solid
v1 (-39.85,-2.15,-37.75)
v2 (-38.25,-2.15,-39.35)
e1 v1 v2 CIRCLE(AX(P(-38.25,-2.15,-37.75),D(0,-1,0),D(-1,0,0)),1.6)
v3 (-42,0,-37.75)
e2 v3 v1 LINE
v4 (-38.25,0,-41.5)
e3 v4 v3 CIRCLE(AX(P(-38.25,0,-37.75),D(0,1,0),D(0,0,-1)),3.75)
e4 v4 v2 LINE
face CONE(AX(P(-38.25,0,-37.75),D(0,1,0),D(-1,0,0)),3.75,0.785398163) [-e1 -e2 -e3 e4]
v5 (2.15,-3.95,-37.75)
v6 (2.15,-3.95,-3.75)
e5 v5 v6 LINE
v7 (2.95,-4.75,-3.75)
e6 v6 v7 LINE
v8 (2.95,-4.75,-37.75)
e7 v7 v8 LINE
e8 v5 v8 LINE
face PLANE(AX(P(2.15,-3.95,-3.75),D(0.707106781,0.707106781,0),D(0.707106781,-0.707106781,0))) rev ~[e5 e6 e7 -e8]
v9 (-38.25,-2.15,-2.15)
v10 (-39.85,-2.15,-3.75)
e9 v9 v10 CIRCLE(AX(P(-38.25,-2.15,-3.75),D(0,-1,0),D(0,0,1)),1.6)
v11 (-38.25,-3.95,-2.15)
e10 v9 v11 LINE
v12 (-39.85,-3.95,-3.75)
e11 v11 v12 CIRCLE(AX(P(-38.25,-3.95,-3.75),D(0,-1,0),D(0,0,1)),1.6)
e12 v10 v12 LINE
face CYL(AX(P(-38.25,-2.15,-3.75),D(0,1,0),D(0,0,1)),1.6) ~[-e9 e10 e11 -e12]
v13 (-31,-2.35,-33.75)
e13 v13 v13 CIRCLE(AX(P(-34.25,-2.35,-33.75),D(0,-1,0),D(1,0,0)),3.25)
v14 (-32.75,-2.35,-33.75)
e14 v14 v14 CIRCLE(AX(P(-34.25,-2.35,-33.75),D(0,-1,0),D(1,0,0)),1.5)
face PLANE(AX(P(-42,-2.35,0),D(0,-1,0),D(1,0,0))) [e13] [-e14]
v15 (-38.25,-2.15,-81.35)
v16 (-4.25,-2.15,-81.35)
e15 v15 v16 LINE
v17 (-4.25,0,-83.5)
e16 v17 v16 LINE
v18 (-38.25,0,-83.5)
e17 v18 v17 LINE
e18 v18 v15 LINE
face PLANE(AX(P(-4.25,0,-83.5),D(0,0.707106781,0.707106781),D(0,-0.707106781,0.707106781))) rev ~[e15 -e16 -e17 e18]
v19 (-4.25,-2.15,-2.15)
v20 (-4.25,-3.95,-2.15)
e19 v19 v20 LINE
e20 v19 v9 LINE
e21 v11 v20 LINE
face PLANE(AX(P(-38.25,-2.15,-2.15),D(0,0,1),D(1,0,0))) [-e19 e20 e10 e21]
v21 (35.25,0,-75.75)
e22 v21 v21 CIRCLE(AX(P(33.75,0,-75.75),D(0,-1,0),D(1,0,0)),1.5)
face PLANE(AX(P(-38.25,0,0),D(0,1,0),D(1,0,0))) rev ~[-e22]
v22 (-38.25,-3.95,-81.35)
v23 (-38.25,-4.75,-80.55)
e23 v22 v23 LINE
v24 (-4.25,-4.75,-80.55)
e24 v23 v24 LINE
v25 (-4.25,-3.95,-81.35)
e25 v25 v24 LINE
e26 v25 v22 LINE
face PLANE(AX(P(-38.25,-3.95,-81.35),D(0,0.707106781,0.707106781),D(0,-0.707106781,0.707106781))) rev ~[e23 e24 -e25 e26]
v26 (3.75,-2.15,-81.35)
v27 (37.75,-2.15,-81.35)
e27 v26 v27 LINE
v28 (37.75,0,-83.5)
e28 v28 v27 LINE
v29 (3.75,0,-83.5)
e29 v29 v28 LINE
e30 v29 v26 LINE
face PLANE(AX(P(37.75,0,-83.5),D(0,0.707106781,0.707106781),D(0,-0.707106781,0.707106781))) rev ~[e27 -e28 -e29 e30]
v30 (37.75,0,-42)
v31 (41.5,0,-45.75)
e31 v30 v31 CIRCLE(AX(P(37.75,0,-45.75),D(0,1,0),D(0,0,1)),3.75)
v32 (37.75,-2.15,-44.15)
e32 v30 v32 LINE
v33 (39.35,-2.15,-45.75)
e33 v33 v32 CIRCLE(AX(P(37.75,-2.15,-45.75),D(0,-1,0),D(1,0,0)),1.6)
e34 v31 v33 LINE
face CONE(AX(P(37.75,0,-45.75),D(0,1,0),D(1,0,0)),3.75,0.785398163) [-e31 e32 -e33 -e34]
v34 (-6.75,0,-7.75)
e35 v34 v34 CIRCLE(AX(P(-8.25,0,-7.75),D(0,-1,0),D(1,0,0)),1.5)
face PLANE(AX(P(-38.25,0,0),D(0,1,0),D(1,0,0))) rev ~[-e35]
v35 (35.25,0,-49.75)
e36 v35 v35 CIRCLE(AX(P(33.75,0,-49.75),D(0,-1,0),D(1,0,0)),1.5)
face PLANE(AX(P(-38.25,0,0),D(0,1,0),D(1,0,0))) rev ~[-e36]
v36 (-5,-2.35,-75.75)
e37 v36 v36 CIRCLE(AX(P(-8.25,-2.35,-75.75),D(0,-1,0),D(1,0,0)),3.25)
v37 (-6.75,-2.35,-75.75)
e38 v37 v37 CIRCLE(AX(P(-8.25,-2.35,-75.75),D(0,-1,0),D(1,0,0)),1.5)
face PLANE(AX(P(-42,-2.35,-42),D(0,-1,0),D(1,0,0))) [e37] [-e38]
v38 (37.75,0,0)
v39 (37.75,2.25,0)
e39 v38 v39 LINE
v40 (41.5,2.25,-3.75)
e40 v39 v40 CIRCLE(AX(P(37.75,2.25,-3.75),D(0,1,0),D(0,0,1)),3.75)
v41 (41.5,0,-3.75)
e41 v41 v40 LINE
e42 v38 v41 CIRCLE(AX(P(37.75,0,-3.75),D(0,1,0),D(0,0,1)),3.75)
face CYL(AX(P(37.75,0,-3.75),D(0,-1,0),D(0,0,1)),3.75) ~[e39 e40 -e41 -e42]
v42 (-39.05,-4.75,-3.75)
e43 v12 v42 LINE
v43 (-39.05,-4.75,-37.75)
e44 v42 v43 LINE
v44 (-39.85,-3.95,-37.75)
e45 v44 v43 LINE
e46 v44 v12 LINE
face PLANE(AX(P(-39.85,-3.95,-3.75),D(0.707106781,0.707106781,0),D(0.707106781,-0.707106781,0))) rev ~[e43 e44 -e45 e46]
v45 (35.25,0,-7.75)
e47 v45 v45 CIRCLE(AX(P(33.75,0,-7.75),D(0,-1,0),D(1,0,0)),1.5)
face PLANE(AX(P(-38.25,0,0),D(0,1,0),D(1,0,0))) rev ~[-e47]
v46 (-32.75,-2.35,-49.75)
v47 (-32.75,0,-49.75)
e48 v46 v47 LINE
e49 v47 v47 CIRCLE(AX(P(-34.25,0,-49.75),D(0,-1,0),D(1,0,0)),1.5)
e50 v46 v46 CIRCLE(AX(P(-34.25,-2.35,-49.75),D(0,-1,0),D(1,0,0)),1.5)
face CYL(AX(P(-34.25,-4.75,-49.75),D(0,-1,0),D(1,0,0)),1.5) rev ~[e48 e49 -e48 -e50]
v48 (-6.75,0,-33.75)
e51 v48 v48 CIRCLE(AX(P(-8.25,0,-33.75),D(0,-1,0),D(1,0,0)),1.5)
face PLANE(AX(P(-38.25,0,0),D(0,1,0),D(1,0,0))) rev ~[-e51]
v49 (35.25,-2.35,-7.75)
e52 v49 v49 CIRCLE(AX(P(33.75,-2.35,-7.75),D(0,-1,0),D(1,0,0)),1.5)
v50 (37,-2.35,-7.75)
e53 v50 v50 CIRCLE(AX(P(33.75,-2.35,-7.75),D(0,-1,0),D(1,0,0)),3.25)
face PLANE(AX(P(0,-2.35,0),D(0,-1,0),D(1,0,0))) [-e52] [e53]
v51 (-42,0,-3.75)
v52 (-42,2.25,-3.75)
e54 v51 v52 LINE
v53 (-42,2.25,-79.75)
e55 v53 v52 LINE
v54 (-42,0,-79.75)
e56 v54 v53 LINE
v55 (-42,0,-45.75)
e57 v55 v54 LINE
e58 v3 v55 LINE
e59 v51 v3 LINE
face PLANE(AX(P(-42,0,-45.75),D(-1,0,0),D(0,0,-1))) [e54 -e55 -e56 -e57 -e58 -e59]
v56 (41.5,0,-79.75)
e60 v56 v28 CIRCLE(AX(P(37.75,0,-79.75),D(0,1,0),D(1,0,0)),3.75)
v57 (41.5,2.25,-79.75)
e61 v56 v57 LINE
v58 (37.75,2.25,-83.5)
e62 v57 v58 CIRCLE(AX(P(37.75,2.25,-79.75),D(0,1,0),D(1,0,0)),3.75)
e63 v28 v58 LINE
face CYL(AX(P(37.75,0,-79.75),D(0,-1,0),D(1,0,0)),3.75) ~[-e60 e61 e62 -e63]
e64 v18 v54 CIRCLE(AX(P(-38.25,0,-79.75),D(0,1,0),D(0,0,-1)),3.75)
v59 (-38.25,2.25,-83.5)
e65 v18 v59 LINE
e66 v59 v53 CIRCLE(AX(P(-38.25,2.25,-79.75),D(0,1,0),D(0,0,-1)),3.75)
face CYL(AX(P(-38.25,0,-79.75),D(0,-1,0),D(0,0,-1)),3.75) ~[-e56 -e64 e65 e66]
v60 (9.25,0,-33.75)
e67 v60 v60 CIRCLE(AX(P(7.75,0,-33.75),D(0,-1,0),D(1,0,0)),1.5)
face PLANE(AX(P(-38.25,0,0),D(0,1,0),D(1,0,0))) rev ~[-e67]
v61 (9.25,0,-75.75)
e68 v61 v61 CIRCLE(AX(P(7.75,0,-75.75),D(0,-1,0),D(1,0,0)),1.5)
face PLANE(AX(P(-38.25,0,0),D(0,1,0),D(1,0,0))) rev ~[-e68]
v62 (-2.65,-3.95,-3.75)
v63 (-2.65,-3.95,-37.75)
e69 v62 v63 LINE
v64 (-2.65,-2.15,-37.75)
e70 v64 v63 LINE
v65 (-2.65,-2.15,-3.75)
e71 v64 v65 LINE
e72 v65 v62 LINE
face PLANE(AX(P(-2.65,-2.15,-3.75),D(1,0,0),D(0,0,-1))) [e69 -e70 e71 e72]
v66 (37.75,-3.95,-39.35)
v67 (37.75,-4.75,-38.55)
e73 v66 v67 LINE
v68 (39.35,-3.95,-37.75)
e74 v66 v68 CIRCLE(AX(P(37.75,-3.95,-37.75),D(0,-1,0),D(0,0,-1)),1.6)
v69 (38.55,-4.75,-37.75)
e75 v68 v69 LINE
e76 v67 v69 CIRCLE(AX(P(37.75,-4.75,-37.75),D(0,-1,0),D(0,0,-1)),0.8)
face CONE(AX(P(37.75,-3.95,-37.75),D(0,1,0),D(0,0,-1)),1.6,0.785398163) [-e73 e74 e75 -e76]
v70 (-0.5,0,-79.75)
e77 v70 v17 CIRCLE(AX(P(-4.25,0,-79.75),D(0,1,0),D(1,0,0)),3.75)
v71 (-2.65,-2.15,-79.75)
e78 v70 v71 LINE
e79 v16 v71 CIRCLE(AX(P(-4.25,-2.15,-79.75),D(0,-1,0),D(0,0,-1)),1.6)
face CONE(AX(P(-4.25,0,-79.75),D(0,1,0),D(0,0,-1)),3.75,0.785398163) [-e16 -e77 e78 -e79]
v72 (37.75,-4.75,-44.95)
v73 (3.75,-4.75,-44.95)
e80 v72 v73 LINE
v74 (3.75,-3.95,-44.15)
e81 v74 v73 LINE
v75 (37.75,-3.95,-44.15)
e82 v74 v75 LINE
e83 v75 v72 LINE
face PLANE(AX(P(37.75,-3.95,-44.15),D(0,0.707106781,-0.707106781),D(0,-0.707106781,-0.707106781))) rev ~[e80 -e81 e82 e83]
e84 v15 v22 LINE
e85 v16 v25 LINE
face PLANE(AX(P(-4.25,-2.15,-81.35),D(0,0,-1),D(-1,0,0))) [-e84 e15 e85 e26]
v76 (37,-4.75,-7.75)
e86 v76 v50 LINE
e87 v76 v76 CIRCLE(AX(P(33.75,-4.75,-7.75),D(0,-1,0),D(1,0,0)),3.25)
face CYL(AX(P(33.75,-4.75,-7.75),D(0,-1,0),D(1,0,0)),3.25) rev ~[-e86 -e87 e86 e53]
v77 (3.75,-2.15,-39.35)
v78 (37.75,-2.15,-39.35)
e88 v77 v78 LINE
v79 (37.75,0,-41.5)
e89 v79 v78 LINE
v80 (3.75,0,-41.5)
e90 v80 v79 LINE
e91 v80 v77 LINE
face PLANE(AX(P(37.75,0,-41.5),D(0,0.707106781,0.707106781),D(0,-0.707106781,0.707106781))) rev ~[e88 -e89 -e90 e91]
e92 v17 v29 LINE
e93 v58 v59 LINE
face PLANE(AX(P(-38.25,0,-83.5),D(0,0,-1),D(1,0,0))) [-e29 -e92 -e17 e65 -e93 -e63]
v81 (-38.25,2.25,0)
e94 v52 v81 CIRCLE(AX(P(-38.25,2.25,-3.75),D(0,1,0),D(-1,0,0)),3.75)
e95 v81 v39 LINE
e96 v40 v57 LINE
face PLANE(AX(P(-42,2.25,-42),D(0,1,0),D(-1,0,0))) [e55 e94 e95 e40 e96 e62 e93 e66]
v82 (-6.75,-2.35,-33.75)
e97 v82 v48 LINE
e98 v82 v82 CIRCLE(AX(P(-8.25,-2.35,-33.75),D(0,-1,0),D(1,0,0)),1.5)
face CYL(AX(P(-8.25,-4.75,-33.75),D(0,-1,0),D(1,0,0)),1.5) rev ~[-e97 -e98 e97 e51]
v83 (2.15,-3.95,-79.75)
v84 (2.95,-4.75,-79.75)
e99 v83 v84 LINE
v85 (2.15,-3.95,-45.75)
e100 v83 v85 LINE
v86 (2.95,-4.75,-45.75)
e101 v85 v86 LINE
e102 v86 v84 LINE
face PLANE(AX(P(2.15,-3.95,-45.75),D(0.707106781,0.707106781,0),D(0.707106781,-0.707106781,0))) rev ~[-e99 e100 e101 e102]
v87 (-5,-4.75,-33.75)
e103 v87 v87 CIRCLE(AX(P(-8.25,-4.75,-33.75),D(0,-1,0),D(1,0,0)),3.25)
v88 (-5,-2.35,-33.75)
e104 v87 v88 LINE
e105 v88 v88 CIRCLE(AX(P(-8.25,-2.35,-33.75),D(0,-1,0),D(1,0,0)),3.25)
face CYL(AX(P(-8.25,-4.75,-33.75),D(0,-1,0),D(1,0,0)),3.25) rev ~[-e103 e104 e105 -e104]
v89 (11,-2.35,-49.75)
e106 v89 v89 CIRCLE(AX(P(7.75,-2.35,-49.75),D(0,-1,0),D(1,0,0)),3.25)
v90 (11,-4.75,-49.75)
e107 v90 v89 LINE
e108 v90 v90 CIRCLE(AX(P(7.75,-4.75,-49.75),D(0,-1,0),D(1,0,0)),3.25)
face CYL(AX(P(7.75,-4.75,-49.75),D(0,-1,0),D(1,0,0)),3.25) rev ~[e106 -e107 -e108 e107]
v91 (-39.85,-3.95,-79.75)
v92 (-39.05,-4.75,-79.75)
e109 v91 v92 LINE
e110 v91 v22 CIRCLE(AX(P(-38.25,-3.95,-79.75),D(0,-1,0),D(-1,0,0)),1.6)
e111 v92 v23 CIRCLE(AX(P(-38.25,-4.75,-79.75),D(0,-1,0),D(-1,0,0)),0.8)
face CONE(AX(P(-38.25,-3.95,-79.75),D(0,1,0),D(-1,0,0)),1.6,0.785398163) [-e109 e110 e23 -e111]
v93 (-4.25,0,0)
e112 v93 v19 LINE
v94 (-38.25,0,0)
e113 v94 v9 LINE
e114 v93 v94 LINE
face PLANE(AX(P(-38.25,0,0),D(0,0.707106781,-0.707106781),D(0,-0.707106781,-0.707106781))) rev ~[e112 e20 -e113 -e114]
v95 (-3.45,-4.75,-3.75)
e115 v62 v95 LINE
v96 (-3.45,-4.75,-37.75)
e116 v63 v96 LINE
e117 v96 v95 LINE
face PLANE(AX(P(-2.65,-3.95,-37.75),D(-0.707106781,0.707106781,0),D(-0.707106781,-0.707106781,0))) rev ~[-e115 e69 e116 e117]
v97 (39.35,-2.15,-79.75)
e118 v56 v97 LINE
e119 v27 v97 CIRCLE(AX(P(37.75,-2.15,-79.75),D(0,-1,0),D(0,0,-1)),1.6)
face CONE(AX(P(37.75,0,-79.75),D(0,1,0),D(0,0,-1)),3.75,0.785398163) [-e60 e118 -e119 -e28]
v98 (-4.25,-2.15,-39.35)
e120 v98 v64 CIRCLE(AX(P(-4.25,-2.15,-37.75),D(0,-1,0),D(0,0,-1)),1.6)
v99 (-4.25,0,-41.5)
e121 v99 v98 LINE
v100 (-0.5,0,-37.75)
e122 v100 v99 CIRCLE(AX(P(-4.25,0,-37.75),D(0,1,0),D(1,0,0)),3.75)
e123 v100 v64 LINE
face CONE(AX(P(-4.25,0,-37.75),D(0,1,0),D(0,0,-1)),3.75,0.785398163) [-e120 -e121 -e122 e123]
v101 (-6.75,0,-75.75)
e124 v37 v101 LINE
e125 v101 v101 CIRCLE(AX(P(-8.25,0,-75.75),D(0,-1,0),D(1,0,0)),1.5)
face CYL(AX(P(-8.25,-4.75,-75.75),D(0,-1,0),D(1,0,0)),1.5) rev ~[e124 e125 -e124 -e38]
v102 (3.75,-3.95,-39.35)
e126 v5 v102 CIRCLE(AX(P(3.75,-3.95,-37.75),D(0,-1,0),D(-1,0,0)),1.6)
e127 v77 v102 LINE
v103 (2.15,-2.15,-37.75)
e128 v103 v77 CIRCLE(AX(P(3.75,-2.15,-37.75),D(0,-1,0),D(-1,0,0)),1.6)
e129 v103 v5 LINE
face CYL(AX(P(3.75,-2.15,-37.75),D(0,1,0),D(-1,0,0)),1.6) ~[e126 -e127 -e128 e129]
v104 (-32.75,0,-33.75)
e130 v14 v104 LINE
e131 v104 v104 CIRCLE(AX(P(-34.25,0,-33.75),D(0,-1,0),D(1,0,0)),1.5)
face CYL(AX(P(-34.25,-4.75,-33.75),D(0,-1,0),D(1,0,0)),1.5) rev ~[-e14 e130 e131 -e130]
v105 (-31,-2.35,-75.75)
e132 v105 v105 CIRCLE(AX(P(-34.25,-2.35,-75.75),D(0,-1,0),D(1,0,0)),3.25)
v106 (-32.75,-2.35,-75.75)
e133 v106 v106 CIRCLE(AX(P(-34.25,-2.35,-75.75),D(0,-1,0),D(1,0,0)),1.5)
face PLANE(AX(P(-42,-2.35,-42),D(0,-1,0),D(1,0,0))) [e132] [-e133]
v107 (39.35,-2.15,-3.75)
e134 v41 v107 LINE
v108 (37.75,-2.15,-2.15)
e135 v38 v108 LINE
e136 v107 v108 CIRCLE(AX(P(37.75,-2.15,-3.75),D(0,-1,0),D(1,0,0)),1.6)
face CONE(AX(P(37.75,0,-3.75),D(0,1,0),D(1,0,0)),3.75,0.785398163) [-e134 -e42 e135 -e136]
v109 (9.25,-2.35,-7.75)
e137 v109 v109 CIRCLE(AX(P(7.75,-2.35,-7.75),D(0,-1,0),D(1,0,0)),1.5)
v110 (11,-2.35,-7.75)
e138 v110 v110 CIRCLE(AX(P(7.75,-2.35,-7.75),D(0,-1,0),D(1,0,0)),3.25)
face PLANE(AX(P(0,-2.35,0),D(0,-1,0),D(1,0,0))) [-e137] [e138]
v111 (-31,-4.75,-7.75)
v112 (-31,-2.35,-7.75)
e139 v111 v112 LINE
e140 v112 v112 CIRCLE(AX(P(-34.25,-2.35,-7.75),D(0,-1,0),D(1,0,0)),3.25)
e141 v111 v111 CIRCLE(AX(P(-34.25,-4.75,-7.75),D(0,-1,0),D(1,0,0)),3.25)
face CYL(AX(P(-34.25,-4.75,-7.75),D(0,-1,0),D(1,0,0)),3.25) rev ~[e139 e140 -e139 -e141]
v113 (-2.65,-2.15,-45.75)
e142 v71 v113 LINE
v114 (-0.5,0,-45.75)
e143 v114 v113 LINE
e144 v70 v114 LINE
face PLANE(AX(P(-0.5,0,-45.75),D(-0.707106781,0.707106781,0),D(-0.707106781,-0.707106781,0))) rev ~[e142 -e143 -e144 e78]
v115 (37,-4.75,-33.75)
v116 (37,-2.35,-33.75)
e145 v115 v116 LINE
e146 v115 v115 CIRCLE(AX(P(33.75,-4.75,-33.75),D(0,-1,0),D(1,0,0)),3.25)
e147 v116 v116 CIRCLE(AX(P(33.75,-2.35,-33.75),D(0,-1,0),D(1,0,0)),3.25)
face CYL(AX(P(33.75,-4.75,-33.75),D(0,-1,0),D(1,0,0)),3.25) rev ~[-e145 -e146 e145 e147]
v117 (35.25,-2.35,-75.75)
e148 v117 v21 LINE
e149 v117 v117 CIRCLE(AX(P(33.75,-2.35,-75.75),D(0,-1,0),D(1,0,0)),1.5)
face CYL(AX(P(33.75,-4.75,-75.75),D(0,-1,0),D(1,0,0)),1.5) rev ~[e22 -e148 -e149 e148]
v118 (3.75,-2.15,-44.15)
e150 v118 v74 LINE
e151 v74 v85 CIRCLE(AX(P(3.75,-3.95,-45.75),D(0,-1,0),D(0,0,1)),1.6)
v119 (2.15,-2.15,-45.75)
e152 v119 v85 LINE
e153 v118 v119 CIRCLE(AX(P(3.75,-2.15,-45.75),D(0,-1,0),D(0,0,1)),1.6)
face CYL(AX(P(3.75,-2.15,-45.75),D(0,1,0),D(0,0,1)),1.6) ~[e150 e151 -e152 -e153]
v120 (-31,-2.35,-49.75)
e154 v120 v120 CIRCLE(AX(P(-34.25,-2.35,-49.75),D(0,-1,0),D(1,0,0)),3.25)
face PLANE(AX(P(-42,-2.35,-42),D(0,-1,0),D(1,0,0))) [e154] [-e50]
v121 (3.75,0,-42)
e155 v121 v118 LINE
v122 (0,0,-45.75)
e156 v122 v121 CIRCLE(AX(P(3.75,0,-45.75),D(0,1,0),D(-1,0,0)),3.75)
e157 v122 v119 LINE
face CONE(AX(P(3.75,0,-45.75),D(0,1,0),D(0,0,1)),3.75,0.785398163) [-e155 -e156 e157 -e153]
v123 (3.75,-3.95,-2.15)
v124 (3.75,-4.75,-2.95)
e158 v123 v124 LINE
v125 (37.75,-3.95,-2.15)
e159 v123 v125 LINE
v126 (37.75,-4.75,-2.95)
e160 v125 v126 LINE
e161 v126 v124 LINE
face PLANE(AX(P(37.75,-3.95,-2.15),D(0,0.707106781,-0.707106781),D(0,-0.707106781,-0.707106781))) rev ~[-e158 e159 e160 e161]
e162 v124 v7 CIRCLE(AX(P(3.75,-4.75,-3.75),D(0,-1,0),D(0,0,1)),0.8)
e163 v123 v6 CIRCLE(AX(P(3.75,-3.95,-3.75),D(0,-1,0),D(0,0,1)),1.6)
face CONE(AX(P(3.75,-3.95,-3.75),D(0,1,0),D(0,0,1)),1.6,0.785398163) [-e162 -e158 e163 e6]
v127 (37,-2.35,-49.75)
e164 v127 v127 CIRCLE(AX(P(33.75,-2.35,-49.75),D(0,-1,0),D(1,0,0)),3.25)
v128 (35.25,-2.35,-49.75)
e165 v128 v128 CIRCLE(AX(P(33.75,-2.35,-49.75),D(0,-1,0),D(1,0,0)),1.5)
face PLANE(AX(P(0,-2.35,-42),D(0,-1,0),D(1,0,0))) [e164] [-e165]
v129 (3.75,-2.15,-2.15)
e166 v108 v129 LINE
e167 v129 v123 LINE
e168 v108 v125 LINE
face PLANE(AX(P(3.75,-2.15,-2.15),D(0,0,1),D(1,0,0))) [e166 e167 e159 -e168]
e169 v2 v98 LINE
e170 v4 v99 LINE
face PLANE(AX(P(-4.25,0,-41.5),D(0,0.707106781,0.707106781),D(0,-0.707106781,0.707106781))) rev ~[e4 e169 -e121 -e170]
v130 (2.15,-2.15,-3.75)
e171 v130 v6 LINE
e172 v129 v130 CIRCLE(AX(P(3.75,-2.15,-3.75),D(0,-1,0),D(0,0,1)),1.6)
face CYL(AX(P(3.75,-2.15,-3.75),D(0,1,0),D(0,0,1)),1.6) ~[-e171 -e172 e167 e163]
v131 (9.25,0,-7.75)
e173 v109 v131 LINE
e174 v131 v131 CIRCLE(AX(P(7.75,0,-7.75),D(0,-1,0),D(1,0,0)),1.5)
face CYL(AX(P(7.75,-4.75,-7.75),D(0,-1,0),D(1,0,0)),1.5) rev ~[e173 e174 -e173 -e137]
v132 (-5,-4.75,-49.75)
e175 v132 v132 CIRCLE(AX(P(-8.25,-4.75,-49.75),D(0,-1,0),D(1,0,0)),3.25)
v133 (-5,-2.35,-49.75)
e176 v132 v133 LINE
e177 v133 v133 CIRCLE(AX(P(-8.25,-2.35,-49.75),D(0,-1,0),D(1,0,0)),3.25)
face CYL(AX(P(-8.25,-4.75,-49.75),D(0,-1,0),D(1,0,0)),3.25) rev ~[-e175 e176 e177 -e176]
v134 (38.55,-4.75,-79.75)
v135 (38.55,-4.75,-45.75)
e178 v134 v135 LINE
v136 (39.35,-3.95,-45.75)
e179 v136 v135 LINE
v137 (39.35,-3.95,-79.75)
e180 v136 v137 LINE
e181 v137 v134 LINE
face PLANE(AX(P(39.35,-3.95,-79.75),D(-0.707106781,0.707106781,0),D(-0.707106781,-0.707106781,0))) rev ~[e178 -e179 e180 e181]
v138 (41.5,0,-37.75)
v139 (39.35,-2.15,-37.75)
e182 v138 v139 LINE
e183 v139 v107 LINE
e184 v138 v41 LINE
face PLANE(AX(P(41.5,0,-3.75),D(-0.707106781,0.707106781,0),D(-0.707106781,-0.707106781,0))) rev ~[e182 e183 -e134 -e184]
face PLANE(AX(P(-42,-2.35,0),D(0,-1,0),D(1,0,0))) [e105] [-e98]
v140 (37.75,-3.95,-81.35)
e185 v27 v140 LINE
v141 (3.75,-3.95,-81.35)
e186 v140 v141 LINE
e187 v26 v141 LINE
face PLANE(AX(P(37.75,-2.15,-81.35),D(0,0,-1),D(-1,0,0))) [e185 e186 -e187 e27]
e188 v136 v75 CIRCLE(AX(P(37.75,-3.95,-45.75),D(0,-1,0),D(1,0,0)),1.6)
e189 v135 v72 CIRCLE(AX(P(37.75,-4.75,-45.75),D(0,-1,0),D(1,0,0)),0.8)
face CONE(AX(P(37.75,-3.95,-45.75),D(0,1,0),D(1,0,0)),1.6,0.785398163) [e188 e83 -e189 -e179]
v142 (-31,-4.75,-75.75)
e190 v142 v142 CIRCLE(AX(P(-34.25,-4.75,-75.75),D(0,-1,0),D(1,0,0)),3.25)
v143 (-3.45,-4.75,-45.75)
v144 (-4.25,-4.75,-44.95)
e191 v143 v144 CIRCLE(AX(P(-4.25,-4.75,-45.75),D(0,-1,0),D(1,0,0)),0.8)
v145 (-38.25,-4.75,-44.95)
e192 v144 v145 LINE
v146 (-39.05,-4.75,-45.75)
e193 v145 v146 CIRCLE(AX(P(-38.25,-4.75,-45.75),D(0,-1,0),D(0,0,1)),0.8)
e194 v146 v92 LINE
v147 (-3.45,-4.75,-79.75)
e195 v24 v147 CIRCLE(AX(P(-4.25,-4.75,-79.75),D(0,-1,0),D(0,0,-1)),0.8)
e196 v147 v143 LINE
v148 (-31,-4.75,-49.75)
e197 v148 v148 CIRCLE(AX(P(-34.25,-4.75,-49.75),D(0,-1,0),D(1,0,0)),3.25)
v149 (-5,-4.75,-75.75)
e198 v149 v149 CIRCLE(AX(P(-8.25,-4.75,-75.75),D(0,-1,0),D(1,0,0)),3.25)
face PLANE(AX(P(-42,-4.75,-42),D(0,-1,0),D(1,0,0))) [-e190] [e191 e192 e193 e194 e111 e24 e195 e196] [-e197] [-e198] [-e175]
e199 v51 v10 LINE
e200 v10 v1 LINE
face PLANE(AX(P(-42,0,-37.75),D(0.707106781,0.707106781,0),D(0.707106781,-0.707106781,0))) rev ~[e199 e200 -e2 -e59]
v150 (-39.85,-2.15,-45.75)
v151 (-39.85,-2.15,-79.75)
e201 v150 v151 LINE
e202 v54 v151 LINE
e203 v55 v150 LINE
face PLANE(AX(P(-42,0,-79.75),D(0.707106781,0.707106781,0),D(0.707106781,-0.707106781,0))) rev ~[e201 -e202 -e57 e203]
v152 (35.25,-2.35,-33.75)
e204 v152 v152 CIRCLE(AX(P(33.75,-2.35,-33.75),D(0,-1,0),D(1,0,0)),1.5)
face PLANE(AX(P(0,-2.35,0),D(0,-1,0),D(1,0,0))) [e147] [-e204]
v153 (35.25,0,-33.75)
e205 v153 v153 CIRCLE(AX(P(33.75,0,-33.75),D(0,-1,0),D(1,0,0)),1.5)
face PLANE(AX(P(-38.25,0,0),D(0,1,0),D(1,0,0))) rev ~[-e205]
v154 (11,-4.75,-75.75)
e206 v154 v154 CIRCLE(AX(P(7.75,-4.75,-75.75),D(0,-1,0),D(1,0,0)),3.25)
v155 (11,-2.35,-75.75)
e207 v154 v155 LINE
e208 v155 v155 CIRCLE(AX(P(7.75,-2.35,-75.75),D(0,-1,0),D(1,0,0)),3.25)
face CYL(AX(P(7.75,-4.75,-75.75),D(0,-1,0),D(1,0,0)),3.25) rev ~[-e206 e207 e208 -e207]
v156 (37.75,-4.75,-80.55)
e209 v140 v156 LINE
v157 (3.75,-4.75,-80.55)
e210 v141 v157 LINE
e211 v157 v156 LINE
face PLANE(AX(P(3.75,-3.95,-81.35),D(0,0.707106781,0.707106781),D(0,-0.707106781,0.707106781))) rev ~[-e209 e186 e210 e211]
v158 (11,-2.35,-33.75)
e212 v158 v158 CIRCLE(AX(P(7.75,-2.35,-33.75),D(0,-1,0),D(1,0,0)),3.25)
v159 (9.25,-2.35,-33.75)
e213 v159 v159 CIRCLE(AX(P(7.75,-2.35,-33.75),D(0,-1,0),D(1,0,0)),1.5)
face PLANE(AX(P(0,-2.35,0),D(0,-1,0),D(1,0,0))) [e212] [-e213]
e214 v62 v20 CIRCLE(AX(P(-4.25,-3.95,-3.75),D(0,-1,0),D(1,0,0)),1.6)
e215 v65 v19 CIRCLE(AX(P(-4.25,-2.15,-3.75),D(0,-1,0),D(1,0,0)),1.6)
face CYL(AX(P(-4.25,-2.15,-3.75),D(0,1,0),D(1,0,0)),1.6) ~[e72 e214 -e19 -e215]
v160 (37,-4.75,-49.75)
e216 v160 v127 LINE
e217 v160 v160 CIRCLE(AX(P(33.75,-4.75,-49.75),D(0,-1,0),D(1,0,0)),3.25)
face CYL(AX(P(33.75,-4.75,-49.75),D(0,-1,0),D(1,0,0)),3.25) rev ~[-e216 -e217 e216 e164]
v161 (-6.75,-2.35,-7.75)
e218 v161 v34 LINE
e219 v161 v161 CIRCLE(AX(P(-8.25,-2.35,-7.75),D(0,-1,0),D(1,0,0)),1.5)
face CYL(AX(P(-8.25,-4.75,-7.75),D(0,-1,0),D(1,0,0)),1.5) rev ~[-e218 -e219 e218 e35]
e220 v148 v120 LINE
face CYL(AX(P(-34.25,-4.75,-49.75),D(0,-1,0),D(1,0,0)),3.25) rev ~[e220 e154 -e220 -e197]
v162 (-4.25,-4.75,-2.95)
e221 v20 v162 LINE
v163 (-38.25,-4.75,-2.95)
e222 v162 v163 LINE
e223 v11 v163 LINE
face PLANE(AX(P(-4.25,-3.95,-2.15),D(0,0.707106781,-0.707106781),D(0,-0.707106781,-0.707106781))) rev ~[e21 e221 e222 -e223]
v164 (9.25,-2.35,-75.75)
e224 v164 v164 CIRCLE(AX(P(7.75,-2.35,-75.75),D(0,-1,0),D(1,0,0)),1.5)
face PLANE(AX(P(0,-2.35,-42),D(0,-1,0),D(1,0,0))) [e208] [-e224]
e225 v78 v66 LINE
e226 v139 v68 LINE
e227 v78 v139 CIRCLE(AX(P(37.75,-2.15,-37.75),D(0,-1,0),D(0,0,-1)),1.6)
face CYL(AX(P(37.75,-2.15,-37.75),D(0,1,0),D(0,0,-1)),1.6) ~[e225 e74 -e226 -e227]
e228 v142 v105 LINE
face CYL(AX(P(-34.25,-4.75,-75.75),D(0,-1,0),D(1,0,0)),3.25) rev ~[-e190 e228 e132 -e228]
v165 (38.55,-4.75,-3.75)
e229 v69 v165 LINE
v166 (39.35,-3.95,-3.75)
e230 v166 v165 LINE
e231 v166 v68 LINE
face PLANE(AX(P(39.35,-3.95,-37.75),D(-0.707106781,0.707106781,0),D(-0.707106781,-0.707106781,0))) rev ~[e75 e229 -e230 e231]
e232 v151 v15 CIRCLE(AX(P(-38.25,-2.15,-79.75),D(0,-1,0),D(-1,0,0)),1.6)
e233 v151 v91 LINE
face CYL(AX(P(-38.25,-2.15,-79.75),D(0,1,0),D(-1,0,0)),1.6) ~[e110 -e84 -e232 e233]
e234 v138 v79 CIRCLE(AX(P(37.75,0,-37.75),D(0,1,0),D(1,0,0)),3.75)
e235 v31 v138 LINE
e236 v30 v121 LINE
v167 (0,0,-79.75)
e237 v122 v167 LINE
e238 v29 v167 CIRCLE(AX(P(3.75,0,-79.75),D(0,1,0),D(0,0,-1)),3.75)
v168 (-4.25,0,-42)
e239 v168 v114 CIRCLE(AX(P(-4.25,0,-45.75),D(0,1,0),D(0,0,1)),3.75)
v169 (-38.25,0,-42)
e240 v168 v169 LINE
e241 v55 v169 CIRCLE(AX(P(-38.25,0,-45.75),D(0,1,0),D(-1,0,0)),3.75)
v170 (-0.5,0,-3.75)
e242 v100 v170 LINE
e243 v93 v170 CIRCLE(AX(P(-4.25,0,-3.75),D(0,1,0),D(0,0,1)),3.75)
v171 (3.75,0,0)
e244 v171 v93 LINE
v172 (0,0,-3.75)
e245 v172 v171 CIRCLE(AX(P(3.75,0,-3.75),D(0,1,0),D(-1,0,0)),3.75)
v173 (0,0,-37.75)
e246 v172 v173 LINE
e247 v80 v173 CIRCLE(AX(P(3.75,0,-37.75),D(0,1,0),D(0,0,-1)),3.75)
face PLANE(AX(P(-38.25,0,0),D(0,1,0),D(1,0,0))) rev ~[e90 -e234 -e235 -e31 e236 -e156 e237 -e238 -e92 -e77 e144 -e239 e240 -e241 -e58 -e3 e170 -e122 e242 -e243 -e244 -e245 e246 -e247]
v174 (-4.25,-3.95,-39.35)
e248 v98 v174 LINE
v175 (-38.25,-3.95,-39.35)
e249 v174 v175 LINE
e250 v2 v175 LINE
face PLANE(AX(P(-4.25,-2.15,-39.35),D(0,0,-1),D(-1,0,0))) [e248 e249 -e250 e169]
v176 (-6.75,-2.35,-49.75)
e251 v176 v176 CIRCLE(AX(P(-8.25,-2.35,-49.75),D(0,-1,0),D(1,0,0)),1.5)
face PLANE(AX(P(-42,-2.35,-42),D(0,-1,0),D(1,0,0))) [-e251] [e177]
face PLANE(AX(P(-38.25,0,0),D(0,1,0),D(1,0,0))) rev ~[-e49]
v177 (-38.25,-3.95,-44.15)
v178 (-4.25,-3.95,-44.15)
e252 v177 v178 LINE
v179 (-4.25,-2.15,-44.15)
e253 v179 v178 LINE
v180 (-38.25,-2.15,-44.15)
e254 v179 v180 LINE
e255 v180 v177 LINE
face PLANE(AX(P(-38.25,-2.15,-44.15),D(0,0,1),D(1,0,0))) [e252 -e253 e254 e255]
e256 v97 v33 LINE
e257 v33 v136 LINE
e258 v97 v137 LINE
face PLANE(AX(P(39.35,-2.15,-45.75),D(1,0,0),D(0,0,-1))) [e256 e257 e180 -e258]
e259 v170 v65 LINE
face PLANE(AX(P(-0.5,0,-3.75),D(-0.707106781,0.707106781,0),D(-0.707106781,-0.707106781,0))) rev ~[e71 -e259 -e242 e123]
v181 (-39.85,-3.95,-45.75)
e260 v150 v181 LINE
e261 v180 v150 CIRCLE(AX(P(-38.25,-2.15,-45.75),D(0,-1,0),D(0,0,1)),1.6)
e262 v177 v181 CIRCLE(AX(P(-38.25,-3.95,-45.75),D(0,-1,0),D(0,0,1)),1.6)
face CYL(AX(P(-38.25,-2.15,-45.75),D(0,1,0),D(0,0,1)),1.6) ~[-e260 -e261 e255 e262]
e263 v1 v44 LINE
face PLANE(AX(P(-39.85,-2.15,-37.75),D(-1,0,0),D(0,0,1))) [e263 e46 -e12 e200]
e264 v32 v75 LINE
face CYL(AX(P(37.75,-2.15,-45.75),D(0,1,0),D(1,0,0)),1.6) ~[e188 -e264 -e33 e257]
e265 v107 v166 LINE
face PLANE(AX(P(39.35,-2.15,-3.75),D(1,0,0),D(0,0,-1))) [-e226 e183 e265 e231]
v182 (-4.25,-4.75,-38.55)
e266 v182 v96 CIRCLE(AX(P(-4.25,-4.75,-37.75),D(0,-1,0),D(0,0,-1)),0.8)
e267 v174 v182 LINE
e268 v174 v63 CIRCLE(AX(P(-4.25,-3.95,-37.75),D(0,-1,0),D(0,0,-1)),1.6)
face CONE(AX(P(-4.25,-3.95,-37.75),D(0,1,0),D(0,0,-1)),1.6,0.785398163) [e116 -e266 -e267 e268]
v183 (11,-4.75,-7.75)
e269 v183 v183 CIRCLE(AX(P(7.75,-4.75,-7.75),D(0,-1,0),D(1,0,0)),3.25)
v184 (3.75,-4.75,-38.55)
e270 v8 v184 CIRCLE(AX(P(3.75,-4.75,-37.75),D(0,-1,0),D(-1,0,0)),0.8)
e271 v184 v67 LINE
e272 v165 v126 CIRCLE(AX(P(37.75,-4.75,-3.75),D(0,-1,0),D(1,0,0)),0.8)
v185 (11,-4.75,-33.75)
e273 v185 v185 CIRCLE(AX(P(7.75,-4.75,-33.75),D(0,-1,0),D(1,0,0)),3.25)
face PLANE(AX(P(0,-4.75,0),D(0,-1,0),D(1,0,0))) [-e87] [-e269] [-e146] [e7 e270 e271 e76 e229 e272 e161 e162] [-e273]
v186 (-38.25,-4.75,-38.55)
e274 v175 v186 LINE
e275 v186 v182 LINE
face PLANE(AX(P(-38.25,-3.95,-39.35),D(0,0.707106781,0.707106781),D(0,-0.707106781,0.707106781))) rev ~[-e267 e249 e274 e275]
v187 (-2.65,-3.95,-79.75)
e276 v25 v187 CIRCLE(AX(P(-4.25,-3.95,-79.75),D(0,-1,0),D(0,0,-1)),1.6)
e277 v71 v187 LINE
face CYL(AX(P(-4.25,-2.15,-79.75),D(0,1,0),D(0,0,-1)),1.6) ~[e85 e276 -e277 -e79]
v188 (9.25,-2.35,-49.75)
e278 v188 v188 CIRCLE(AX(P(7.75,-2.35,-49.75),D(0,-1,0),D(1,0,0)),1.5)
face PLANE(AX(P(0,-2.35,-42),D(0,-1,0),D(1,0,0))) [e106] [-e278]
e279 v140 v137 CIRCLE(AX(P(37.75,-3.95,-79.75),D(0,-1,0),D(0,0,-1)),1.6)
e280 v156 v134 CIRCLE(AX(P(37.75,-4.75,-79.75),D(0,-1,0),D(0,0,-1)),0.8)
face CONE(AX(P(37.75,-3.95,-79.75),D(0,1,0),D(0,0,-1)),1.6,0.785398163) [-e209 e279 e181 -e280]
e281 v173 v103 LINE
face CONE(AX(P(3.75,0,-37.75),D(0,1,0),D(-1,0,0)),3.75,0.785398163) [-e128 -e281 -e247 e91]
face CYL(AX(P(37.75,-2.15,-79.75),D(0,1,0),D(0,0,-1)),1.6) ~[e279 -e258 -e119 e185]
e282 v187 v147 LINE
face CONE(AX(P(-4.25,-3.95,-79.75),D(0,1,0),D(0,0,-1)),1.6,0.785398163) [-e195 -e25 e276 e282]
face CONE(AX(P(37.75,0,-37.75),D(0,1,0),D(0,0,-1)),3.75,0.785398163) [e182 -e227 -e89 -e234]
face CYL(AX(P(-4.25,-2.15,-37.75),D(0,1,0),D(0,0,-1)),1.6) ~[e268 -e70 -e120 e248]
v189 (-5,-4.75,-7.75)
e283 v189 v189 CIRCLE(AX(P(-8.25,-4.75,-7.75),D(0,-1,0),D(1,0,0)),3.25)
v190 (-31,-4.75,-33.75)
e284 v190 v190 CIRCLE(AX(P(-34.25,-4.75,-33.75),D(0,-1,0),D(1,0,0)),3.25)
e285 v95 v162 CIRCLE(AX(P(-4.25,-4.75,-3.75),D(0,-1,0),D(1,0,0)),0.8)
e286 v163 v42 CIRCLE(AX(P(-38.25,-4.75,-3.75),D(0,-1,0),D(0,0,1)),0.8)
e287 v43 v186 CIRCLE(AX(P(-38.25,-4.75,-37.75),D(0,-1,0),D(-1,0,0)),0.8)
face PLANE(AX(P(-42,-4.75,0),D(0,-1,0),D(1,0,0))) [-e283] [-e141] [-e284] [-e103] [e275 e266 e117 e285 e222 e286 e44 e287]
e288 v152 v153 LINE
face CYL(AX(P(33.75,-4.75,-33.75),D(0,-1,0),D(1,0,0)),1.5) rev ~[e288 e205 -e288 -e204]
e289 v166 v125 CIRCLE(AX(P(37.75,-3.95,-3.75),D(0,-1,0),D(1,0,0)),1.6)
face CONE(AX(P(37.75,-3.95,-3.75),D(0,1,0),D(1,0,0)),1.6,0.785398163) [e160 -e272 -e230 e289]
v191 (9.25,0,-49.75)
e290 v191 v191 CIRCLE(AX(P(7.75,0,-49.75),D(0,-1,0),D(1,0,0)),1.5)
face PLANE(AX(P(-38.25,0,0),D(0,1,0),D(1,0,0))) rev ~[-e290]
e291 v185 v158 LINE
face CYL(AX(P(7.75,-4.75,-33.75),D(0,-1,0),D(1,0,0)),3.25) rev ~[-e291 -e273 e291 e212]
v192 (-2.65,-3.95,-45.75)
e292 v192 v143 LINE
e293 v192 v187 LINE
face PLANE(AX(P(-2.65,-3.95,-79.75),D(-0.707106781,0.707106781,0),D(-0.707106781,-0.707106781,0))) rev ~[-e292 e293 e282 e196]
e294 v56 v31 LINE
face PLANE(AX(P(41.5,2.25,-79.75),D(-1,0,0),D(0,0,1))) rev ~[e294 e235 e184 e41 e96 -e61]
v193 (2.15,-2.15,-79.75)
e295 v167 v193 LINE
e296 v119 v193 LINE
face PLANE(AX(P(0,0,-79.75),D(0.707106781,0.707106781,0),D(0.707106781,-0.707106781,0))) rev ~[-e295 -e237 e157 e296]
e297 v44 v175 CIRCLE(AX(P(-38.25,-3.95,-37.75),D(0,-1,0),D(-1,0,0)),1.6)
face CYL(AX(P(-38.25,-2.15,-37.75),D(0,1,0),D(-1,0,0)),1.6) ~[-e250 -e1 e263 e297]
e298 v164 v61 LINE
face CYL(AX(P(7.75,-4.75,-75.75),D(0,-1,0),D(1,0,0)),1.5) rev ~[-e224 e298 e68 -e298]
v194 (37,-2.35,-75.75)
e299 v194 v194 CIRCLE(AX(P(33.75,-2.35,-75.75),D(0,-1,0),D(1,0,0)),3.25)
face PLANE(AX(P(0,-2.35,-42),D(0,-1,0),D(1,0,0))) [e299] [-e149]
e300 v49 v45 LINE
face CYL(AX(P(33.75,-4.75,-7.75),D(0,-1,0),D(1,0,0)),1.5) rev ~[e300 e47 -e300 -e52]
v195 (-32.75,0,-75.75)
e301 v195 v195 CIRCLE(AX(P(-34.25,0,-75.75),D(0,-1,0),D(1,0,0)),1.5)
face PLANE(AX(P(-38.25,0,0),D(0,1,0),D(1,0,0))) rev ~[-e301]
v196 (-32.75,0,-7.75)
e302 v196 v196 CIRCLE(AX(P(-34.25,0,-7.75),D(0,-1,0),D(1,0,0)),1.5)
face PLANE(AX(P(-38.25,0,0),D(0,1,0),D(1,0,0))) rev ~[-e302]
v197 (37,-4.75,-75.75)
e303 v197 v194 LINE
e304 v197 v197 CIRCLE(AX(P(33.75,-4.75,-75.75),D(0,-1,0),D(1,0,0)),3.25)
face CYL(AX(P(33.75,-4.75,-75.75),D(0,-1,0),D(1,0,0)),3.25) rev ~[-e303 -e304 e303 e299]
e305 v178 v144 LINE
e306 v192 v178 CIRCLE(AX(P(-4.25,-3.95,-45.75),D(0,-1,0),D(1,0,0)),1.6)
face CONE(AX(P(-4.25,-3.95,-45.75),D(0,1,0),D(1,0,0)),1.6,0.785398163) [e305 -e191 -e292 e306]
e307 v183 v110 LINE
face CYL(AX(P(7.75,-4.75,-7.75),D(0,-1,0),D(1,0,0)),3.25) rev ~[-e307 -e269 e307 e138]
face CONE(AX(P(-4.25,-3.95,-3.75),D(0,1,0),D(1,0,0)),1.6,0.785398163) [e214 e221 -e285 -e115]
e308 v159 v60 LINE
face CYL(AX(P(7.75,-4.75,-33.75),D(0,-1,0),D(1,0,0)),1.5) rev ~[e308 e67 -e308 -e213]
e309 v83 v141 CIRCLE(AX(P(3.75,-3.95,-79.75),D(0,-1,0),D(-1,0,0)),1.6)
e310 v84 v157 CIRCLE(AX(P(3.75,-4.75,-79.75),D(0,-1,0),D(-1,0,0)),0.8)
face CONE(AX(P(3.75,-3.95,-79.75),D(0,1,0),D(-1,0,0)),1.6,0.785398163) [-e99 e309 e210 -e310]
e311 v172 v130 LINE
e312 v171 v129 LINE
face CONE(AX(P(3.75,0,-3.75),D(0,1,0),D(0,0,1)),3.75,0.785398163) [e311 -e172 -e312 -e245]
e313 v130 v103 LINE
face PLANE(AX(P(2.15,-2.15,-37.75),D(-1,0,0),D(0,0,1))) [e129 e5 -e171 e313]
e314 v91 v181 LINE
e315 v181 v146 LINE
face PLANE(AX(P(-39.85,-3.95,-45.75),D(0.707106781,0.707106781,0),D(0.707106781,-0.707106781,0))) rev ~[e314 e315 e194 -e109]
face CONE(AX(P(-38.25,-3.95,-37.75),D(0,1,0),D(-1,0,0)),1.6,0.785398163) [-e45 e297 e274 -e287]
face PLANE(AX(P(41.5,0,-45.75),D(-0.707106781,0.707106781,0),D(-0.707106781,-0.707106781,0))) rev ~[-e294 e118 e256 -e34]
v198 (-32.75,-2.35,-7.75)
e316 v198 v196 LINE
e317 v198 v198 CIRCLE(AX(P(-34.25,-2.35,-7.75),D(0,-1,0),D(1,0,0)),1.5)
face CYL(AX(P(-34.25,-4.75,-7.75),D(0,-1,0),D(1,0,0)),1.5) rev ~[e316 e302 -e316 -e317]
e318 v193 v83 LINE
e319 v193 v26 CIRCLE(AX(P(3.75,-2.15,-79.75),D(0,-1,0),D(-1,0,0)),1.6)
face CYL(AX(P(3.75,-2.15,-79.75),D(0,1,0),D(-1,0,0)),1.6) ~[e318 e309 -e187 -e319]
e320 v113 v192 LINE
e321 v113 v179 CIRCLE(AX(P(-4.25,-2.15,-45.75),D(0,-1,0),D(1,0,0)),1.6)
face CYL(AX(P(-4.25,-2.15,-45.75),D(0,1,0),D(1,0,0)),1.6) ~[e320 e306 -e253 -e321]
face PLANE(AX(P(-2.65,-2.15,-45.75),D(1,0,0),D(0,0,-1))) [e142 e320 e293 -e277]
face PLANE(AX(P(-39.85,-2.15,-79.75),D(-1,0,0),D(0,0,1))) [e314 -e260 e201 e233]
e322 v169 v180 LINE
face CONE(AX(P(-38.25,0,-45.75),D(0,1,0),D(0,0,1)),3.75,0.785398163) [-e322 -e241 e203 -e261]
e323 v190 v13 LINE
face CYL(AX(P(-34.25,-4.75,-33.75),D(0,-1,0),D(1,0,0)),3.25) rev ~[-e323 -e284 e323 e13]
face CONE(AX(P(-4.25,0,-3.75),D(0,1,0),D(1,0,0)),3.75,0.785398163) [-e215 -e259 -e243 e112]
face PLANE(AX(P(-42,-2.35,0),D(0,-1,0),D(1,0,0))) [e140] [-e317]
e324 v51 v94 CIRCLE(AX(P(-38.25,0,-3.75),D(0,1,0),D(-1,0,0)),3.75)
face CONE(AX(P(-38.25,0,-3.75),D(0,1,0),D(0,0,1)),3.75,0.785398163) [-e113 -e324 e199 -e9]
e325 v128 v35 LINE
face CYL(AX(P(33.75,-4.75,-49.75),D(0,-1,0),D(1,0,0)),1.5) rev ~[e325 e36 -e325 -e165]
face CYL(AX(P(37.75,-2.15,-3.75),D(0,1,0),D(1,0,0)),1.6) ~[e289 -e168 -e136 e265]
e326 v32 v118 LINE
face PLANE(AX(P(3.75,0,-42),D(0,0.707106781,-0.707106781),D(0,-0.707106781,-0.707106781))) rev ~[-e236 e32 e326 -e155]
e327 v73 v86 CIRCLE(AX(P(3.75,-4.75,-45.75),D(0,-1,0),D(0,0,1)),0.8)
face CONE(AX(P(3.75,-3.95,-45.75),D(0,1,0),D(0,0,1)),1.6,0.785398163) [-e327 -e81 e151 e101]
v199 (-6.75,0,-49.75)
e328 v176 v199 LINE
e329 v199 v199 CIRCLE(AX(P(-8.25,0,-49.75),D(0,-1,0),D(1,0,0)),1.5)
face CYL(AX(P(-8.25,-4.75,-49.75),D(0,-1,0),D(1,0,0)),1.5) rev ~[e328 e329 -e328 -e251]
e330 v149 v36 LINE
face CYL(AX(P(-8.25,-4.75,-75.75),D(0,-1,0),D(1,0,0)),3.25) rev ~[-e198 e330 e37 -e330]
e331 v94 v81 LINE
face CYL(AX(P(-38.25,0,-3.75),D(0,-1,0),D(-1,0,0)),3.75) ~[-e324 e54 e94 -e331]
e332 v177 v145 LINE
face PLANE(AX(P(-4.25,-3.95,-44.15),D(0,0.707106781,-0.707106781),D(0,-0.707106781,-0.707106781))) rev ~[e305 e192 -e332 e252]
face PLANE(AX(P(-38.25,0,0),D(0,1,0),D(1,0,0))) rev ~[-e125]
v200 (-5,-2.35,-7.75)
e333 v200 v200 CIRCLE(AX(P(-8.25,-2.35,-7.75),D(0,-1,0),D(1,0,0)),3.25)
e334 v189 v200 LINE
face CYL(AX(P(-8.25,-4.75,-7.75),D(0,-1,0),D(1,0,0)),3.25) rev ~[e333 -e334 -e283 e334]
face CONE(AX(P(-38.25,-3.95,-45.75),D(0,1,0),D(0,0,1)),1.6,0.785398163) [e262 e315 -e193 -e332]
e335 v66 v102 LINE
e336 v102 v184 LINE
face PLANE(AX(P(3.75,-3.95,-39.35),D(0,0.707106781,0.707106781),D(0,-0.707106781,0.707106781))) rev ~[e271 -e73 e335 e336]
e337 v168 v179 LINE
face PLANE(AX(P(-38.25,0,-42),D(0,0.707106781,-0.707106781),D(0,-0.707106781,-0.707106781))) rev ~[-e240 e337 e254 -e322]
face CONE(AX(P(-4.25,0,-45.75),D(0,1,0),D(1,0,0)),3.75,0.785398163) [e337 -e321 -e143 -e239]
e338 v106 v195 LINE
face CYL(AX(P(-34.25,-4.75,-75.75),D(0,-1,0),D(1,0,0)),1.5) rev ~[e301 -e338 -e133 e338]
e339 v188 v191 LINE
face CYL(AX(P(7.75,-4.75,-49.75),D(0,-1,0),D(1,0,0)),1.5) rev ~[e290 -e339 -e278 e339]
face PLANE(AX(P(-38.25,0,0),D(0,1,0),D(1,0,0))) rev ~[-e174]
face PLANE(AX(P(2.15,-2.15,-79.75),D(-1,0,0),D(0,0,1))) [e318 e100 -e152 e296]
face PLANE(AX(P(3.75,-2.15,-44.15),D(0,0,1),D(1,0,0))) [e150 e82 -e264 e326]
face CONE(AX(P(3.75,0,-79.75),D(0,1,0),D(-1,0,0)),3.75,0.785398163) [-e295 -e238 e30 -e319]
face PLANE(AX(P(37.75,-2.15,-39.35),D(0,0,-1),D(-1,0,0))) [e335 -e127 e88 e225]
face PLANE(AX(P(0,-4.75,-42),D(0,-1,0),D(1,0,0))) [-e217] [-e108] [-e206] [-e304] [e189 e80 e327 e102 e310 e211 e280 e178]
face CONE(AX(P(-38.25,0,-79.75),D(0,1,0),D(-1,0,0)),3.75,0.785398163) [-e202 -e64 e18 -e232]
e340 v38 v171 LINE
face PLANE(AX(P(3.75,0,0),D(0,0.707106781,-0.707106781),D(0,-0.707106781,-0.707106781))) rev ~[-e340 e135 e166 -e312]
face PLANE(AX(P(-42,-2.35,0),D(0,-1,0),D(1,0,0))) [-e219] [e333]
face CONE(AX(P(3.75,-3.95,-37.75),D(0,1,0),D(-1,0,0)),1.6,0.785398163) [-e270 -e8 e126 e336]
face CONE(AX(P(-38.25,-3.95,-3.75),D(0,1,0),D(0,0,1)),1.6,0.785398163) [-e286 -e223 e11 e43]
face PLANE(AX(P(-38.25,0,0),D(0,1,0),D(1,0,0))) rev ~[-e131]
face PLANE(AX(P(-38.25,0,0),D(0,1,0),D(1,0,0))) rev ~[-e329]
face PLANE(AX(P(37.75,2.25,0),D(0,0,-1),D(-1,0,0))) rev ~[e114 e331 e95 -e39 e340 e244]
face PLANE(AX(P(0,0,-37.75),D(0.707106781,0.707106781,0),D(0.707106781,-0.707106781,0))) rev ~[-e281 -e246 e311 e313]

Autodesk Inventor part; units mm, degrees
ref_plane "YZ Plane" through (0, 0, 0) normal (1, 0, 0) x (0, 1, 0)
ref_plane "XZ Plane" through (0, 0, 0) normal (0, 1, 0) x (-1, 0, 0)
ref_plane "XY Plane" through (0, 0, 0) normal (0, 0, 1) x (1, 0, 0)
sketch "Sketch9" plane through (0, 0, 0) normal (0, 1, 0) x (-1, 0, 0)
  line L0 (-3.75, -41.5) -> (-37.75, -41.5)
  line L1 (-41.5, -37.75) -> (-41.5, -3.75)
  line L2 (-37.75, 0) -> (-3.75, 0)
  line L3 (0, -3.75) -> (0, -37.75)
  arc A0 (0, -3.75) -> (-3.75, 0) centre (-3.75, -3.75) ccw
  arc A1 (-37.75, 0) -> (-41.5, -3.75) centre (-37.75, -3.75) ccw
  arc A2 (-41.5, -37.75) -> (-37.75, -41.5) centre (-37.75, -37.75) ccw
  arc A3 (-3.75, -41.5) -> (0, -37.75) centre (-3.75, -37.75) ccw
  point P0 (0, 0)
  point P1 (0, -41.5)
  point P2 (-41.5, 0)
  point P3 (-41.5, -41.5)
  point P4 (0, 0)
  dimension "d50" = 41.5
  dimension "d51" = 41.5
  dimension "d52" = 3.75
  dimension "d55" = 3.75
extrude "base-generic" add sketch "Sketch9" along normal blind 2.25
sketch "Sketch10" plane through (0, 0, 0) normal (0, -1, 0) x (1, 0, 0)
  line L0 (3.75, 0) -> (37.75, 0) projected
  arc A0 (3.75, 0) -> (0, -3.75) centre (3.75, -3.75) ccw projected
  line L1 (0, -37.75) -> (0, -3.75) projected
  arc A1 (0, -37.75) -> (3.75, -41.5) centre (3.75, -37.75) ccw projected
  line L2 (37.75, -41.5) -> (3.75, -41.5) projected
  arc A2 (37.75, -41.5) -> (41.5, -37.75) centre (37.75, -37.75) ccw projected
  line L3 (41.5, -3.75) -> (41.5, -37.75) projected
  arc A3 (41.5, -3.75) -> (37.75, 0) centre (37.75, -3.75) ccw projected
extrude "Extrusion8" add sketch "Sketch10" along normal blind 2.15 draft -45
sketch "Sketch11" plane through (0, -2.15, 0) normal (0, -1, 0) x (1, 0, 0)
  line L0 (37.75, -39.35) -> (3.75, -39.35) projected
  arc A0 (37.75, -39.35) -> (39.35, -37.75) centre (37.75, -37.75) ccw projected
  line L1 (39.35, -3.75) -> (39.35, -37.75) projected
  arc A1 (39.35, -3.75) -> (37.75, -2.15) centre (37.75, -3.75) ccw projected
  line L2 (3.75, -2.15) -> (37.75, -2.15) projected
  arc A2 (3.75, -2.15) -> (2.15, -3.75) centre (3.75, -3.75) ccw projected
  line L3 (2.15, -37.75) -> (2.15, -3.75) projected
  arc A3 (2.15, -37.75) -> (3.75, -39.35) centre (3.75, -37.75) ccw projected
  point P0 (0, 0)
extrude "Extrusion9" add sketch "Sketch11" along normal blind 1.8
sketch "Sketch12" plane through (0, -3.95, 0) normal (0, -1, 0) x (1, 0, 0)
  line L0 (37.75, -2.15) -> (3.75, -2.15) projected
  arc A0 (3.75, -2.15) -> (2.15, -3.75) centre (3.75, -3.75) ccw projected
  line L1 (2.15, -3.75) -> (2.15, -37.75) projected
  arc A1 (2.15, -37.75) -> (3.75, -39.35) centre (3.75, -37.75) ccw projected
  line L2 (3.75, -39.35) -> (37.75, -39.35) projected
  arc A2 (37.75, -39.35) -> (39.35, -37.75) centre (37.75, -37.75) ccw projected
  line L3 (39.35, -37.75) -> (39.35, -3.75) projected
  arc A3 (39.35, -3.75) -> (37.75, -2.15) centre (37.75, -3.75) ccw projected
  point P0 (0, 0)
extrude "Extrusion10" add sketch "Sketch12" along normal blind 0.8 draft -45
sketch "Sketch13" plane through (0, -4.75, 0) normal (0, -1, 0) x (1, 0, 0)
  circle A0 centre (7.75, -7.75) radius 3.25
  circle A1 centre (33.75, -7.75) radius 3.25
  circle A2 centre (33.75, -33.75) radius 3.25
  circle A3 centre (7.75, -33.75) radius 3.25
  line L0 (0, -37.75) -> (0, -3.75) projected
  line L1 (3.75, 0) -> (37.75, 0) projected
  line L2 (37.75, -41.5) -> (3.75, -41.5) projected
  line L3 (41.5, -3.75) -> (41.5, -37.75) projected
  point P0 (0, 0)
  dimension "d62" = 6.5
  dimension "d63" = 7.75
  dimension "d64" = 7.75
  dimension "d65" = 7.75
  dimension "d66" = 7.75
extrude "Extrusion11" cut sketch "Sketch13" against normal blind 2.4
sketch "Sketch14" plane through (0, -4.75, 0) normal (0, -1, 0) x (1, 0, 0)
  circle A0 centre (7.75, -7.75) radius 1.5
  circle A1 centre (33.75, -7.75) radius 1.5
  circle A2 centre (33.75, -33.75) radius 1.5
  circle A3 centre (7.75, -33.75) radius 1.5
  circle A4 centre (7.75, -7.75) radius 3.25 projected
  circle A5 centre (33.75, -7.75) radius 3.25 projected
  circle A6 centre (33.75, -33.75) radius 3.25 projected
  circle A7 centre (7.75, -33.75) radius 3.25 projected
  point P0 (0, 0)
  dimension "d69" = 3
extrude "Extrusion12" cut sketch "Sketch14" against normal blind 6 contours A0 | A1 | A2 | A3
pattern_linear "Rectangular Pattern1" count 2 spacing 42 along (0, 0, -1) count 2 spacing 42 along (-1, 0, 0)
sketch "Sketch15" plane through (-38.25, 2.25, 0) normal (0, 1, 0) x (1, 0, 0)
  line L0 (0, 83.5) -> (76, 83.5)
  line L1 (79.75, 79.75) -> (79.75, 3.75)
  line L2 (76, 0) -> (0, 0)
  line L3 (-3.75, 3.75) -> (-3.75, 79.75)
  arc A0 (-3.75, 3.75) -> (0, 0) centre (0, 3.75) ccw
  arc A1 (76, 0) -> (79.75, 3.75) centre (76, 3.75) ccw
  arc A2 (79.75, 79.75) -> (76, 83.5) centre (76, 79.75) ccw
  arc A3 (0, 83.5) -> (-3.75, 79.75) centre (0, 79.75) ccw
  point P0 (38.25, 0)
  point P1 (-3.75, 83.5)
  point P2 (79.75, 0)
  point P3 (-3.75, 0)
  point P4 (79.75, 3.75)
  point P5 (-3.75, 3.75)
  point P6 (0, 83.5)
  point P7 (0, 0)
  dimension "d78" = 3.75
extrude "Extrusion13" add sketch "Sketch15" against normal blind 2.25
equation "\"d51\" = d50"
equation "\"d64\" = d63"
equation "\"d65\" = d63"
equation "\"d66\" = d63"
properties part number "generic-module"
